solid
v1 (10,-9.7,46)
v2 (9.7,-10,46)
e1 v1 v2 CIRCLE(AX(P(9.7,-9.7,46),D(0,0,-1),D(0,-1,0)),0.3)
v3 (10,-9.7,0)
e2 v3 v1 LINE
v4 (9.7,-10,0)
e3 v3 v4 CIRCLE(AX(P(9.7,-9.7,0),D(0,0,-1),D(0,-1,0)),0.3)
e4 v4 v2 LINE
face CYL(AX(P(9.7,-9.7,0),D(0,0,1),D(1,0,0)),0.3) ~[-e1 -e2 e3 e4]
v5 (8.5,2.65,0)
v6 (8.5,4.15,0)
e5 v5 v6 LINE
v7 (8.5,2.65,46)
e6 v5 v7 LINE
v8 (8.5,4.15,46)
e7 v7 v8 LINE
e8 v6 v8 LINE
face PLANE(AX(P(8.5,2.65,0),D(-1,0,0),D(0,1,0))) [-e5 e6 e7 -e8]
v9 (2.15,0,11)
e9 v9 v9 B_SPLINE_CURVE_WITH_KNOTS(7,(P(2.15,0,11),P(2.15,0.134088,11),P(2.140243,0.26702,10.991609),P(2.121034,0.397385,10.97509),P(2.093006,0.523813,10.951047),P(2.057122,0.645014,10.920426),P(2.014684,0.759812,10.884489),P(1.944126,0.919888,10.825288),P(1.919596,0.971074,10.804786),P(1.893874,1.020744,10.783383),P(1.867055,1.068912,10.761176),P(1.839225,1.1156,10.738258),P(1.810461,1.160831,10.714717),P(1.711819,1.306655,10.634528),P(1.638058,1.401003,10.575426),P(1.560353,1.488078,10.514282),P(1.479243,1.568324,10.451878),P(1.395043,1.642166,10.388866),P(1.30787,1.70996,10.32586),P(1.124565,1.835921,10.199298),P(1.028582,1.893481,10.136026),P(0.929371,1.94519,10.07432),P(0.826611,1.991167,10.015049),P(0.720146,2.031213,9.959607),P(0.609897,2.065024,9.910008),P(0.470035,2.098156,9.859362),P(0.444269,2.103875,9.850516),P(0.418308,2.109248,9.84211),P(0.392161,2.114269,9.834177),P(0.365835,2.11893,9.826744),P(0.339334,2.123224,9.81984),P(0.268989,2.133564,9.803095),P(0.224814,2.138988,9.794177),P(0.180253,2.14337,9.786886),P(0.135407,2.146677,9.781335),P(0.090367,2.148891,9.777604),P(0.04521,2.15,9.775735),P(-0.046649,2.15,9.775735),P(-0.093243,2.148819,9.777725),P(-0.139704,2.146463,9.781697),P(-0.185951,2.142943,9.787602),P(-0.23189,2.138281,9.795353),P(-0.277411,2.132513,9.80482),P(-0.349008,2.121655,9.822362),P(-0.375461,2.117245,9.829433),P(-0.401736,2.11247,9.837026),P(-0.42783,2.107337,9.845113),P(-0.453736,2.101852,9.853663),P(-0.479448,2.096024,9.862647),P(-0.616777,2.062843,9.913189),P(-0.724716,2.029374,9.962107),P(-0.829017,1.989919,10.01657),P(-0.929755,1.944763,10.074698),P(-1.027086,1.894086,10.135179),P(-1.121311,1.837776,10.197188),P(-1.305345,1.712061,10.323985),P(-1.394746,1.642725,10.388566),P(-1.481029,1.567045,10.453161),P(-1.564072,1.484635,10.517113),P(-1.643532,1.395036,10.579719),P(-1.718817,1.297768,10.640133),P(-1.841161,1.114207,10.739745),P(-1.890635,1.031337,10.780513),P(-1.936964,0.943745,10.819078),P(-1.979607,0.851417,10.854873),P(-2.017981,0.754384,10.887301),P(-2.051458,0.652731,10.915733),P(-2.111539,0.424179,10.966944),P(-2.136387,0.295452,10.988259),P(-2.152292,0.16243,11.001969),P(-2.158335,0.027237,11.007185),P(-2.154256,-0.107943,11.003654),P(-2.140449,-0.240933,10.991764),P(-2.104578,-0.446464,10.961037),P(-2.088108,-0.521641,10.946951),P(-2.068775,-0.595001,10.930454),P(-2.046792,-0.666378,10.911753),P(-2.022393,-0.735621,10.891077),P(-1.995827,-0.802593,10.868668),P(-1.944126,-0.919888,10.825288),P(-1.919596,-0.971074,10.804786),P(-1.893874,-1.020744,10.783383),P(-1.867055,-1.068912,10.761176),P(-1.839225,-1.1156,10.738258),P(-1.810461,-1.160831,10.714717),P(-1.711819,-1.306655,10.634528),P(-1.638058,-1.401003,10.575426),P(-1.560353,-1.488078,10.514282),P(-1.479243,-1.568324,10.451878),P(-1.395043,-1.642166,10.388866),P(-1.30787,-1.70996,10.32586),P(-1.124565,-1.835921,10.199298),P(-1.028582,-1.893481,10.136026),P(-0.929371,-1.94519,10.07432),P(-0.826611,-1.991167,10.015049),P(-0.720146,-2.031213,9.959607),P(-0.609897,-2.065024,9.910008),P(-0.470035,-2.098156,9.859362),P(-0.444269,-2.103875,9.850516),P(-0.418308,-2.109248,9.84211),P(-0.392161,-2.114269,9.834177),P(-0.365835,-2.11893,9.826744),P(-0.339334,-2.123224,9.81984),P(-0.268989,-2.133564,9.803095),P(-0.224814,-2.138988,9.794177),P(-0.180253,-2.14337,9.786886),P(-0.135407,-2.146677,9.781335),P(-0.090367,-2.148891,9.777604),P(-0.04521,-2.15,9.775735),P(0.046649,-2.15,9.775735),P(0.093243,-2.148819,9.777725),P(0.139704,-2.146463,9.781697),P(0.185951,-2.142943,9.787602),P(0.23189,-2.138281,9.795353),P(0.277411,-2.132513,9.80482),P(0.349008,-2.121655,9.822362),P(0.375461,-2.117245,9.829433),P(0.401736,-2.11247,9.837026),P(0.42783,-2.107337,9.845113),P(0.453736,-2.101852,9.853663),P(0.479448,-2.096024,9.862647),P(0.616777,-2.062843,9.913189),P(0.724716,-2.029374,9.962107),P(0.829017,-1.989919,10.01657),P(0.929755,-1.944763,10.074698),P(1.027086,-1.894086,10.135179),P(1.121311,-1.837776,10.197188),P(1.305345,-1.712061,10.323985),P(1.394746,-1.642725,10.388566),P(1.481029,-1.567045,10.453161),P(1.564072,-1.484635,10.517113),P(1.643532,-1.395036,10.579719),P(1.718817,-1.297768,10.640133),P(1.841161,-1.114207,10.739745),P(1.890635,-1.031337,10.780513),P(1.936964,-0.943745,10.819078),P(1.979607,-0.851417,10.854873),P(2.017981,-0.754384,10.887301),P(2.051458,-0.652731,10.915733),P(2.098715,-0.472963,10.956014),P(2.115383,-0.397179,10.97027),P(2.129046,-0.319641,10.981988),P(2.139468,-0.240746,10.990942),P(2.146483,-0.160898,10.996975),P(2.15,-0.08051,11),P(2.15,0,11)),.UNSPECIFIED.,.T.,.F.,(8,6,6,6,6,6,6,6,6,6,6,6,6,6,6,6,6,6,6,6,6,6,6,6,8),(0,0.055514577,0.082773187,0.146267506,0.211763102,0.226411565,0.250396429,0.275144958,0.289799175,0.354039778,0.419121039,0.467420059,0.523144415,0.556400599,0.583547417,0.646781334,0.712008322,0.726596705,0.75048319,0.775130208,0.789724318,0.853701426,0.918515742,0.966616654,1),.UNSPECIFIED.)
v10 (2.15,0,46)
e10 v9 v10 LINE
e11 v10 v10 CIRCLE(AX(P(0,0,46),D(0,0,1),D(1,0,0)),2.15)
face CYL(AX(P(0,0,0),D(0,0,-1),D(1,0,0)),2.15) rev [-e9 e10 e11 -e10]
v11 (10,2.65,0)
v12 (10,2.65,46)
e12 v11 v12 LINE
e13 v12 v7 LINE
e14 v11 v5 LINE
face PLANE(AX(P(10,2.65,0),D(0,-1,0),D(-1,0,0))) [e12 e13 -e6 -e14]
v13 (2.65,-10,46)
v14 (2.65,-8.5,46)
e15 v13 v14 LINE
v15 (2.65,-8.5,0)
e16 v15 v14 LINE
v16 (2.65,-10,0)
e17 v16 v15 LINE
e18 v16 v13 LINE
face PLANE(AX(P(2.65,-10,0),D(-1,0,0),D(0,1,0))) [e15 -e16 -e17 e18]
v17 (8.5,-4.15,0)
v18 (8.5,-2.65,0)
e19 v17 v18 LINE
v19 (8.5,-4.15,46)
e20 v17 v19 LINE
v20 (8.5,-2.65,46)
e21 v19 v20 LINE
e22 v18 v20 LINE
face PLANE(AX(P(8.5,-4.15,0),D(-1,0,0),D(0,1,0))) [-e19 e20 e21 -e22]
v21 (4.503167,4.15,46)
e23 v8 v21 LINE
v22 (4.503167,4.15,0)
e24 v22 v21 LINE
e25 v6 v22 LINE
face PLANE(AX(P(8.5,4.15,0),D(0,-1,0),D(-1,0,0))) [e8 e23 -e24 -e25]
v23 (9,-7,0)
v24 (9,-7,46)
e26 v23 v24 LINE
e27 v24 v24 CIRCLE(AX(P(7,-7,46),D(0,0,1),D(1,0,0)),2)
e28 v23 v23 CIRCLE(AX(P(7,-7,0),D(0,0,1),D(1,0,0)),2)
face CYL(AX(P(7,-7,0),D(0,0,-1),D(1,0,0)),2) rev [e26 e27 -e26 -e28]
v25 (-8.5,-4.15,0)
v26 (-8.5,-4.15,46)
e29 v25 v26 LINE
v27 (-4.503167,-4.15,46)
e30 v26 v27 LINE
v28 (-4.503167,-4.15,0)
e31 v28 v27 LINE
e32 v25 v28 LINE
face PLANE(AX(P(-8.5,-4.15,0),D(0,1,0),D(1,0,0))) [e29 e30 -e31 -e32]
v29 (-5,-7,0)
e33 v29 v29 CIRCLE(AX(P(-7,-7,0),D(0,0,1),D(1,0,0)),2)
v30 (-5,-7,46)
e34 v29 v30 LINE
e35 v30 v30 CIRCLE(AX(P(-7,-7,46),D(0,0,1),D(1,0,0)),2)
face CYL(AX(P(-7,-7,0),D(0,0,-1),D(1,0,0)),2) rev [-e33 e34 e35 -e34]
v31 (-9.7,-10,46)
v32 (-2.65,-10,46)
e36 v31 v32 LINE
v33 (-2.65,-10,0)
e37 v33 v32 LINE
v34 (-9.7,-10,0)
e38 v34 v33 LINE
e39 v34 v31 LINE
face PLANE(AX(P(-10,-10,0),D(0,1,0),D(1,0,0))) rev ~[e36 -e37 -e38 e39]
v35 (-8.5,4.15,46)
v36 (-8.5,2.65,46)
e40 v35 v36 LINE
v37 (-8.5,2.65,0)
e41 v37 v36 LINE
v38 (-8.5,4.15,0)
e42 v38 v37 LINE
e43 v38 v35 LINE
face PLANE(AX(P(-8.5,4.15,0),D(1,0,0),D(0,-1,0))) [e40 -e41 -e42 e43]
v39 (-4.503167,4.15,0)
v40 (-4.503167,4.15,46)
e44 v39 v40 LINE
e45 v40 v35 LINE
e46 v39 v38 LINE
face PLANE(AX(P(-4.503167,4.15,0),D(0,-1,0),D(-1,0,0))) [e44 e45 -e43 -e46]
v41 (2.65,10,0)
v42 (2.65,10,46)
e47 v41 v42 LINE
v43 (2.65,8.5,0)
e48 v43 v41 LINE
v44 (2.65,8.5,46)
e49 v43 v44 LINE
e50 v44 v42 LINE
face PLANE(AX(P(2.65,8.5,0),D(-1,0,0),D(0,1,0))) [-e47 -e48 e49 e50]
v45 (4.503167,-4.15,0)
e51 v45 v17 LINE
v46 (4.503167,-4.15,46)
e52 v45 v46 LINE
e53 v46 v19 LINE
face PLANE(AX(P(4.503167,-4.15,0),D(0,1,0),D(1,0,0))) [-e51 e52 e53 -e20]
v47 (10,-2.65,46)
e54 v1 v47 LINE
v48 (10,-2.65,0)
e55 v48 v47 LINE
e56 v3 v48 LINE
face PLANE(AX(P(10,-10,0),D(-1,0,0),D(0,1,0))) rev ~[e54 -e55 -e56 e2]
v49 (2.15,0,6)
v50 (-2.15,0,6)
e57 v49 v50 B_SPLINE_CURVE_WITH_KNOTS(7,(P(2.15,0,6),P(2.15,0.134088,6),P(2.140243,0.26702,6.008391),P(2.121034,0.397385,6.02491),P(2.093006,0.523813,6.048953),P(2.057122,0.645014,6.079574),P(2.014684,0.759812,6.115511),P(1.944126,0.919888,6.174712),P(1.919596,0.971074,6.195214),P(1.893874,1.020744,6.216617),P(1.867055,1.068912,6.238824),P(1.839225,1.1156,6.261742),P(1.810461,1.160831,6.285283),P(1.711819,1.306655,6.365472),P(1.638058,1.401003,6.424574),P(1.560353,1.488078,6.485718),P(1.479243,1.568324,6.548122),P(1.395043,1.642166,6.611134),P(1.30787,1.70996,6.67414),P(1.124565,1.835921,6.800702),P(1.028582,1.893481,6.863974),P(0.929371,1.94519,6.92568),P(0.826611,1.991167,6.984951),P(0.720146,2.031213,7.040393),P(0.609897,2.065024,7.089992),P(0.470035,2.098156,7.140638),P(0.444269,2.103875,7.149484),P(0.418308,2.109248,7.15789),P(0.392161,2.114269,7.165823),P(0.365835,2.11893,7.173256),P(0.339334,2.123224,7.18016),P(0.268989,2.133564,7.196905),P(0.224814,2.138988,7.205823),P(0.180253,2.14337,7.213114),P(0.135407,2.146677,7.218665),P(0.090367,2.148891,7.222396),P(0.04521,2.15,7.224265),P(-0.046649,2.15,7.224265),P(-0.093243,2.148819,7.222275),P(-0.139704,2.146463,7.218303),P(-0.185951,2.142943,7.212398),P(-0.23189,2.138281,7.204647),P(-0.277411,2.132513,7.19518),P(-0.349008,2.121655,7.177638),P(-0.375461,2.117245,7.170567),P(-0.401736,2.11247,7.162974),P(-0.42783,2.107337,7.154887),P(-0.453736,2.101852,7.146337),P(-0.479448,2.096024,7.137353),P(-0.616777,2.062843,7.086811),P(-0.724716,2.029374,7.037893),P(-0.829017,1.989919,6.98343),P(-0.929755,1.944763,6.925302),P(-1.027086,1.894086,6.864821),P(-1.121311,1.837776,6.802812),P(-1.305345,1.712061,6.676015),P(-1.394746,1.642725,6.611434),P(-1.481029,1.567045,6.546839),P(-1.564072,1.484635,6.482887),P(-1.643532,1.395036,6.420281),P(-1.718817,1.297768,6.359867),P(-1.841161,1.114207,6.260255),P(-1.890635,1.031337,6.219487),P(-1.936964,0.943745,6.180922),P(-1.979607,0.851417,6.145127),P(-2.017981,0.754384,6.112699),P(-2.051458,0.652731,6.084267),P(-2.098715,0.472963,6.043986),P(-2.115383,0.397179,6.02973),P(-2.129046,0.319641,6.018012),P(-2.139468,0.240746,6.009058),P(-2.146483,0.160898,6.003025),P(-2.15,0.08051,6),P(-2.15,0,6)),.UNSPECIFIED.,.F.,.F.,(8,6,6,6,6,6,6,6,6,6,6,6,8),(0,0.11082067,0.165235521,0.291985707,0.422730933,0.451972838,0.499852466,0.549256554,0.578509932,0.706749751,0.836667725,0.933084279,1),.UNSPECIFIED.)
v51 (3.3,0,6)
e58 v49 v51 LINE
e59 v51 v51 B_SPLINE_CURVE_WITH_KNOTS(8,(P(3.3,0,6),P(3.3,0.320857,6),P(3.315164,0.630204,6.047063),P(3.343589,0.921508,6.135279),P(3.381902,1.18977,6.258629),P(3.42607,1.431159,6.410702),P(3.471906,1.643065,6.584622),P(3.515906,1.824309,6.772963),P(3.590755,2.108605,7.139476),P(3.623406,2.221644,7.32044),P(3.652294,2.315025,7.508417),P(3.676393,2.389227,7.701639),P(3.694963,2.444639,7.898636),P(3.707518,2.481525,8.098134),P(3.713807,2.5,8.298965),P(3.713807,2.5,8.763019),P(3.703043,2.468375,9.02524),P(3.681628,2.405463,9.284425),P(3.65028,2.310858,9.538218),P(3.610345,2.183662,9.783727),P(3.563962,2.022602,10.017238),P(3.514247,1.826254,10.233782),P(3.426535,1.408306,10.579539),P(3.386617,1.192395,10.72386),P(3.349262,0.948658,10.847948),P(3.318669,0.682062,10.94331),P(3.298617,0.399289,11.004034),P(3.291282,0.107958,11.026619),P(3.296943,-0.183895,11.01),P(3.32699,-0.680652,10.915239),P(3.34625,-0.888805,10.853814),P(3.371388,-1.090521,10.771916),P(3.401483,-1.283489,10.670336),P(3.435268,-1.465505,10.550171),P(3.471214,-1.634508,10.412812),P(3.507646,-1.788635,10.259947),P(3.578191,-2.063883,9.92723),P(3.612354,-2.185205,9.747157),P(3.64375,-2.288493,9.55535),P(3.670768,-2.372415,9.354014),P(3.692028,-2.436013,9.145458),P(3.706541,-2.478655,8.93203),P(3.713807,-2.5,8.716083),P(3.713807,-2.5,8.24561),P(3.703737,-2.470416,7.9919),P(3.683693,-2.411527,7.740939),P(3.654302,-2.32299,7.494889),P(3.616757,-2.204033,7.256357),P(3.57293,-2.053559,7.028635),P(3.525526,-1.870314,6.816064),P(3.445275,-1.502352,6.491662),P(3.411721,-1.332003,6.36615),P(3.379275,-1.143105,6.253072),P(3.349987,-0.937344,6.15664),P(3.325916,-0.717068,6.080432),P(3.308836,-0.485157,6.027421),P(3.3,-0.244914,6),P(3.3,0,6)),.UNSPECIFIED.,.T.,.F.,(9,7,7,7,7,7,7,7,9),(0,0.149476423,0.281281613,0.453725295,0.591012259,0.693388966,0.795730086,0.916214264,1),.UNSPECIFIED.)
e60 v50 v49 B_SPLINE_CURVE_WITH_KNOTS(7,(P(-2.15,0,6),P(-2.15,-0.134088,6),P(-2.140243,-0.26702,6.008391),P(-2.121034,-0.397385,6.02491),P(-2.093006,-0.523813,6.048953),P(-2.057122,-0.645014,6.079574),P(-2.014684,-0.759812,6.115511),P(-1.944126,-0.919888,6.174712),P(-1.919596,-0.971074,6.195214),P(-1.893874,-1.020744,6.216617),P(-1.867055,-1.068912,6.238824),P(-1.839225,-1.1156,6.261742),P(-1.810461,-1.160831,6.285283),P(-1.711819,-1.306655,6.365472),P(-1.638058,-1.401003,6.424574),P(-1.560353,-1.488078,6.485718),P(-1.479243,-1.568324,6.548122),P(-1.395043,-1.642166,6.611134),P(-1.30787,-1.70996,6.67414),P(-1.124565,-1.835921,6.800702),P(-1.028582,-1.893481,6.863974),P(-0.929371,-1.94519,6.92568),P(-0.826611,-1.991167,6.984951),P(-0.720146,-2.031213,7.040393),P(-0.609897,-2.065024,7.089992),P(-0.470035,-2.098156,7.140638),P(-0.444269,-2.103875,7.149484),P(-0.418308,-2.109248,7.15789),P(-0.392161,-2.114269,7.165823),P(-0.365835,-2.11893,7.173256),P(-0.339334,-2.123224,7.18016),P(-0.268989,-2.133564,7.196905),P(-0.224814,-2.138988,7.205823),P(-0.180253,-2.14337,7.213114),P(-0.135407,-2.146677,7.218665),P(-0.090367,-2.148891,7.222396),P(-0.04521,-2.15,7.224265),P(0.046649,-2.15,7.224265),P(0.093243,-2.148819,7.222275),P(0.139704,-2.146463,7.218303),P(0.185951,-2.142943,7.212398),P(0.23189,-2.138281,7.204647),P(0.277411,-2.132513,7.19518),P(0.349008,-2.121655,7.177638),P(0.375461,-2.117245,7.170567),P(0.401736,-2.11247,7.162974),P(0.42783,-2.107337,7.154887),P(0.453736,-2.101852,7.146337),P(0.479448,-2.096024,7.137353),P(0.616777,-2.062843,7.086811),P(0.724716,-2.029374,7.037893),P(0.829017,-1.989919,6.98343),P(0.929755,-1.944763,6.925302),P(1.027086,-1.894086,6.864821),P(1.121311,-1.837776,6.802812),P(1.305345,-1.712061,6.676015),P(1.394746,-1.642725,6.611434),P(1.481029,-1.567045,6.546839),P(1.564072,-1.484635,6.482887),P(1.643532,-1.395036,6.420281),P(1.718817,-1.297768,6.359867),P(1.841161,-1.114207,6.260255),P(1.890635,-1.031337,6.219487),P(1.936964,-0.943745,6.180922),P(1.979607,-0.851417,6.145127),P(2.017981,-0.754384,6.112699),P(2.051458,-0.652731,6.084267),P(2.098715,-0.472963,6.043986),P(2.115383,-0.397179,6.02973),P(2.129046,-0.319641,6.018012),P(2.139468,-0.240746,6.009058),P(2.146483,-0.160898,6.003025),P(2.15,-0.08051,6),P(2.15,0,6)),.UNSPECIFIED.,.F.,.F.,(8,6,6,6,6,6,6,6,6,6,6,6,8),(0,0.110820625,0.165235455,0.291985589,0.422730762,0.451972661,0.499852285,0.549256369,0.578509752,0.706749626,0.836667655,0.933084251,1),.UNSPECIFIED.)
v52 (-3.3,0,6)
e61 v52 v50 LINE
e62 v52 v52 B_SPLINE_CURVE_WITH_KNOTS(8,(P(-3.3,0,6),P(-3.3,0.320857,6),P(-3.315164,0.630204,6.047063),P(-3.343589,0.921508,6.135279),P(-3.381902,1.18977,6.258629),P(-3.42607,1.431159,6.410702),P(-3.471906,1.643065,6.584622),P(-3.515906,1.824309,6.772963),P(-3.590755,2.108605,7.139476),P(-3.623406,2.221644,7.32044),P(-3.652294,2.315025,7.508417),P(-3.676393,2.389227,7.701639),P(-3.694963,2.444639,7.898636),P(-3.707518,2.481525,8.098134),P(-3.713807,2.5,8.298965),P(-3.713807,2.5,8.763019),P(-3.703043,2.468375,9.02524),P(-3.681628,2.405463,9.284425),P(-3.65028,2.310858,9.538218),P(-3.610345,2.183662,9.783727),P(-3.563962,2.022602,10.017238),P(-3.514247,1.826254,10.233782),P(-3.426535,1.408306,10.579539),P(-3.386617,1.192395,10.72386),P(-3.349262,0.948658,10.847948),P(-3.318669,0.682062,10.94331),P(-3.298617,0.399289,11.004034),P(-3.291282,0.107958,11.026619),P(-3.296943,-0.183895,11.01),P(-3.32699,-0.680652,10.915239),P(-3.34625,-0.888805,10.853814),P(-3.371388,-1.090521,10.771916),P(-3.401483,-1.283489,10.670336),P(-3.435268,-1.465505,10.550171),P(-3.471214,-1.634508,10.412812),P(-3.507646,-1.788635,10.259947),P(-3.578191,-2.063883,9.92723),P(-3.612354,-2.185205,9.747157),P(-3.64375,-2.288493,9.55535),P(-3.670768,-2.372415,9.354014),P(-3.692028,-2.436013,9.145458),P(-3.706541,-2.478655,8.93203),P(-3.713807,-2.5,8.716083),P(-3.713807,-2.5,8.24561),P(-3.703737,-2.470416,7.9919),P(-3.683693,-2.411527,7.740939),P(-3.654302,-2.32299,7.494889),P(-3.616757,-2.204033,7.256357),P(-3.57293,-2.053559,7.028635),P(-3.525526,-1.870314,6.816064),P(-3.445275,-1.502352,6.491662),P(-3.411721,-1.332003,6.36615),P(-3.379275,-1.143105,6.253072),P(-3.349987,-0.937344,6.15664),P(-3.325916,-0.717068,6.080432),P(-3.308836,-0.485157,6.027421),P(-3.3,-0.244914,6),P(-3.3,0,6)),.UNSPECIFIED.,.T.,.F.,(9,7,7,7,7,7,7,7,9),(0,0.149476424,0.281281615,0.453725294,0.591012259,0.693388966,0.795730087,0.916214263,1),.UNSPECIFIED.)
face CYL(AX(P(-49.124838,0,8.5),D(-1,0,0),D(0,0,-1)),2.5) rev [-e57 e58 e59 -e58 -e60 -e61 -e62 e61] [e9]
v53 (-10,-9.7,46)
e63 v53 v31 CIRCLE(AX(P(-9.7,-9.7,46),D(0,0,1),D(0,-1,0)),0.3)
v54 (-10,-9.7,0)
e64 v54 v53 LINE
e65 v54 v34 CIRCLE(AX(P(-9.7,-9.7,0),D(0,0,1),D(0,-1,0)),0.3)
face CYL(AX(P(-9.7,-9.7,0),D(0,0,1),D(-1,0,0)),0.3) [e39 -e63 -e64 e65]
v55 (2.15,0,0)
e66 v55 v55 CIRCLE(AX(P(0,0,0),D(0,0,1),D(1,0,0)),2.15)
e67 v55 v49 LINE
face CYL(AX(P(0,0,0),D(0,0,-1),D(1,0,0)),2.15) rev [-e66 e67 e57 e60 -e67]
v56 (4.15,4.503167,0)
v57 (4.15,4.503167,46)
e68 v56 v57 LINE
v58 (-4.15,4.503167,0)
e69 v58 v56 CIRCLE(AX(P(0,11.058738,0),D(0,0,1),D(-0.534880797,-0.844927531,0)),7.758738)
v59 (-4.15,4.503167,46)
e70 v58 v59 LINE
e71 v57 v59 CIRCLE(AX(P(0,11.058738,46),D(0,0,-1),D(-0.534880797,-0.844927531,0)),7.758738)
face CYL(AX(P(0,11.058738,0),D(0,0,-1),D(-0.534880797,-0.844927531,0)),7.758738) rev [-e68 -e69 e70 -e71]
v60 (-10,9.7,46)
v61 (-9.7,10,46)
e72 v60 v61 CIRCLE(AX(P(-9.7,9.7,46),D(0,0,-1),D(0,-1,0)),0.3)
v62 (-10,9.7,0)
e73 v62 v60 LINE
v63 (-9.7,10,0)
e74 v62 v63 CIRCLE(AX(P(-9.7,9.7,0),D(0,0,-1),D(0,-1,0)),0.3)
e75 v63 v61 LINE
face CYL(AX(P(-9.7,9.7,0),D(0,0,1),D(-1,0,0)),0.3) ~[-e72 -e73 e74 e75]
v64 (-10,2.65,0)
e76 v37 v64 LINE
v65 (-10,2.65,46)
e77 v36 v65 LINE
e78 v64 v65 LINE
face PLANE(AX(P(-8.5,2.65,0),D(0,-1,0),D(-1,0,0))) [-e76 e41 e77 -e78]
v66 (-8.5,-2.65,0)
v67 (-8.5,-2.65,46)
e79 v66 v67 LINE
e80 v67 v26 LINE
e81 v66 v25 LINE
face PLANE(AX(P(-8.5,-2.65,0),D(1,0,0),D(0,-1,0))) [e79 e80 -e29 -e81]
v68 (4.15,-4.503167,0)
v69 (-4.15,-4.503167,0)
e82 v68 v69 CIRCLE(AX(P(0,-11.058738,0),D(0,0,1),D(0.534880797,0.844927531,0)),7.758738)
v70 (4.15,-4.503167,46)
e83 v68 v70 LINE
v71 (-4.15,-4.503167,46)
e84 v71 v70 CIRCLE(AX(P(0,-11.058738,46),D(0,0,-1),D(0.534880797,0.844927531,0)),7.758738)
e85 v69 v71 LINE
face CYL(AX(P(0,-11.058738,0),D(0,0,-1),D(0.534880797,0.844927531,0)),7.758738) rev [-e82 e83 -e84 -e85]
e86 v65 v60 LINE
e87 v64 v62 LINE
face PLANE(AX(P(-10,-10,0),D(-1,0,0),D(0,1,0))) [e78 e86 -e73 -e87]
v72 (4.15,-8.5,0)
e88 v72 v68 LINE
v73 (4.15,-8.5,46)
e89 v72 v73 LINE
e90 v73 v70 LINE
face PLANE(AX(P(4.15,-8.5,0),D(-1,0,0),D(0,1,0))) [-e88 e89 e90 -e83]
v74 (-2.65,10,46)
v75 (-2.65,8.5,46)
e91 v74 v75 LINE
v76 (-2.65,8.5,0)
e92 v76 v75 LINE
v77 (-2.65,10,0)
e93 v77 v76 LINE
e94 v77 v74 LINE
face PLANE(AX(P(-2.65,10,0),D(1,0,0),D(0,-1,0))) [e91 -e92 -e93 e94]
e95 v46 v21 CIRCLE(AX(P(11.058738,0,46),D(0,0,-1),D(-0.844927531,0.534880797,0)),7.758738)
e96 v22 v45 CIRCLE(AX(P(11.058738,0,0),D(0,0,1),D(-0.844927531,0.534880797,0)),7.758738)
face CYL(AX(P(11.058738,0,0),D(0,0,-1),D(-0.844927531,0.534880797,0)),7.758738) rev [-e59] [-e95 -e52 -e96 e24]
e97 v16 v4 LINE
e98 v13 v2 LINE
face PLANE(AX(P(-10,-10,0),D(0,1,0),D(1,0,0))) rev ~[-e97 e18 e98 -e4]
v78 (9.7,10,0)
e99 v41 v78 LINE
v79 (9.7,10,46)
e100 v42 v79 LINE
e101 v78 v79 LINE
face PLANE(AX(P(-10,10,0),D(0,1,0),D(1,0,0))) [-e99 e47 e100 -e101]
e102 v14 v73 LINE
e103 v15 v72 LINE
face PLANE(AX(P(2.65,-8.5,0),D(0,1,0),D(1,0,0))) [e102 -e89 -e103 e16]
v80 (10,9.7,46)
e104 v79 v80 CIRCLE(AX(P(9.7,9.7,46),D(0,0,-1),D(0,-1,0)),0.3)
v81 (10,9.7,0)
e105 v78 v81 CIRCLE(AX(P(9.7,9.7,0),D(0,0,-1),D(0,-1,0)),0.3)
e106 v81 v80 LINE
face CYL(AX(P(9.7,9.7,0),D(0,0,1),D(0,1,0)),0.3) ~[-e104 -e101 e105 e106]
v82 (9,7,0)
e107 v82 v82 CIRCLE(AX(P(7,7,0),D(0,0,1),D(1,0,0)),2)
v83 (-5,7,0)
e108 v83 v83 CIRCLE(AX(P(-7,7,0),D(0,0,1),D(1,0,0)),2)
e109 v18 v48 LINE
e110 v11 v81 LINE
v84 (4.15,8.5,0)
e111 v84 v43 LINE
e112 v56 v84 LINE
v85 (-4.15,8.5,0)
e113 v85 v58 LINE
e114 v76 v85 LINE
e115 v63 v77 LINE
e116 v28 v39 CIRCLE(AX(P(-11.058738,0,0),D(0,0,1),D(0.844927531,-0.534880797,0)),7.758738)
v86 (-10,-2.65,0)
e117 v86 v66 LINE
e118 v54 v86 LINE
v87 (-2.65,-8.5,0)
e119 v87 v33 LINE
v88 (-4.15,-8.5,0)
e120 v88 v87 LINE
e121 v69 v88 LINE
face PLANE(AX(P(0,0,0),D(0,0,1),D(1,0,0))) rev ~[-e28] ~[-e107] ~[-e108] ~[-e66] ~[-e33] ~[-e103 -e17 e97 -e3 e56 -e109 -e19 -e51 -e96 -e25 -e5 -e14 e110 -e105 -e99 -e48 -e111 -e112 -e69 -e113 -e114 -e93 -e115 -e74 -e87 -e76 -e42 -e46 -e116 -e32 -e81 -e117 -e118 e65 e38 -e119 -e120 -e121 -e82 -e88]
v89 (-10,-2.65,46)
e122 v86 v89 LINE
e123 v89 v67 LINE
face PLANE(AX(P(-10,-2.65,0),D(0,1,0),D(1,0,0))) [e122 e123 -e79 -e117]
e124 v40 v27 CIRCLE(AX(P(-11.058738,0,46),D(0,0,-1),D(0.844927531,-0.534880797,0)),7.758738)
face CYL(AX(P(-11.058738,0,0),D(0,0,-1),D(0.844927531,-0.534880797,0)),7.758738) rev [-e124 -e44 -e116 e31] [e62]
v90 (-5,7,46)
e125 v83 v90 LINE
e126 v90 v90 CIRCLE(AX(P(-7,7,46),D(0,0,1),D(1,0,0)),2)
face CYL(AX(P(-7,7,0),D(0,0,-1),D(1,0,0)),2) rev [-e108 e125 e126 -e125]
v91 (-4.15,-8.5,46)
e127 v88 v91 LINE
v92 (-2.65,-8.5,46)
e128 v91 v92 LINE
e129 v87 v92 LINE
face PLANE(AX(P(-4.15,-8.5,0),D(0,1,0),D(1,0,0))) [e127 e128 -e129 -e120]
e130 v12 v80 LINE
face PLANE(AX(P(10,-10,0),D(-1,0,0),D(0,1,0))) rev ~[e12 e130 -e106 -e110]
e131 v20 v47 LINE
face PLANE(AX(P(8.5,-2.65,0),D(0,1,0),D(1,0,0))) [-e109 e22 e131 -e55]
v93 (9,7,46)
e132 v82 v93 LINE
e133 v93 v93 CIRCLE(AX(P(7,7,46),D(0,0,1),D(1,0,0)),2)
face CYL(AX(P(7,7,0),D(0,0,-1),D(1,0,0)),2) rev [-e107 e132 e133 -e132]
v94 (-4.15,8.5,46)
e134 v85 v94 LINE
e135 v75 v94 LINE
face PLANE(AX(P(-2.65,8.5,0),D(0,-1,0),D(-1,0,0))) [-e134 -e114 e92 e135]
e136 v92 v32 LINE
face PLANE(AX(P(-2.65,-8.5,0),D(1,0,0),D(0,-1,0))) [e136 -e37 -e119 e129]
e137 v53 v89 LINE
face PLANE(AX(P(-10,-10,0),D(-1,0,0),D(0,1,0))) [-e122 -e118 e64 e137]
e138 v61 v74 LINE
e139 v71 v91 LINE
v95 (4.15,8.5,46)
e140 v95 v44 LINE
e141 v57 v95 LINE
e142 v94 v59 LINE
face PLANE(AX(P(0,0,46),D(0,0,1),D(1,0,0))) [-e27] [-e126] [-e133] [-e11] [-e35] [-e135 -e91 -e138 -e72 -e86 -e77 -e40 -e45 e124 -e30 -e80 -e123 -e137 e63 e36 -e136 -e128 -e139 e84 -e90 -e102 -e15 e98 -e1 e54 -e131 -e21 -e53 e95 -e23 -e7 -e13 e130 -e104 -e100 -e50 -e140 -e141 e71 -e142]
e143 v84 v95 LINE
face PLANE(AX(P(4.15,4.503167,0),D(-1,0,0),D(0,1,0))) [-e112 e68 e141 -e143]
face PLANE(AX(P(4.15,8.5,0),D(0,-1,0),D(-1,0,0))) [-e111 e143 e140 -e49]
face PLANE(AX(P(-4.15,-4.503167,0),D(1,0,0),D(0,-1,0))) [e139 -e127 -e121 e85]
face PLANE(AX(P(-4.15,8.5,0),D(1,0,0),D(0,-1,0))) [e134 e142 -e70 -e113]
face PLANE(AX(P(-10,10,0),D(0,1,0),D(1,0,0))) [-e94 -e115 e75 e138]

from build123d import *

# Parameters (mm, degrees)
SKETCH_1_W               = 20
SKETCH_1_H               = 20
SKETCH_1_R               = 2
SKETCH_1_R_2             = 2.15
EXTRUDE_1_DEPTH          = 46
CUT_EXTRUDE_1_REACH      = 50.125
PATTERN_CIRCULAR_1_COUNT = 4
FILLET_1_R               = 0.3
CUT_EXTRUDE_2_DEPTH      = 49.124837662
CUT_EXTRUDE_2_DEPTH_BACK = 49.124837662
SKETCH_2_R               = 2.5


with BuildPart() as part:
    # 스케치1 → 보스-돌출1 (new body)
    with BuildSketch(Plane.XY):
        Rectangle(SKETCH_1_W, SKETCH_1_H)
        with Locations((-7, -7)):
            Circle(SKETCH_1_R, mode=Mode.SUBTRACT)
        with Locations((7, -7)):
            Circle(SKETCH_1_R, mode=Mode.SUBTRACT)
        with Locations((-7, 7)):
            Circle(SKETCH_1_R, mode=Mode.SUBTRACT)
        Circle(SKETCH_1_R_2, mode=Mode.SUBTRACT)
        with Locations((7, 7)):
            Circle(SKETCH_1_R, mode=Mode.SUBTRACT)
    extrude(amount=EXTRUDE_1_DEPTH)

    # 스케치1<3> → 컷-돌출1 (cut, up to next)
    with BuildSketch(Plane.XY, mode=Mode.PRIVATE) as cut_extrude_1_sk1:
        with BuildLine():
            Line((-8.5, 2.65), (-10, 2.65))
            Line((-10, 2.65), (-10, -2.65))
            Line((-10, -2.65), (-8.5, -2.65))
            Line((-8.5, -2.65), (-8.5, -4.15))
            Line((-8.5, -4.15), (-4.503166667, -4.15))
            ThreePointArc((-4.503166667, -4.15), (-3.3, 0), (-4.503166667, 4.15))
            Line((-4.503166667, 4.15), (-8.5, 4.15))
            Line((-8.5, 4.15), (-8.5, 2.65))
        make_face()
    cut_extrude_1_tool1 = extrude(cut_extrude_1_sk1.sketch, amount=CUT_EXTRUDE_1_REACH, mode=Mode.PRIVATE) & part.part
    cut_extrude_1 = cut_extrude_1_tool1.solids().sort_by_distance((-6.606913, 0, 0))[0]
    add(cut_extrude_1, mode=Mode.SUBTRACT)

    # 원형 패턴1: 컷-돌출1 ×4 about axis
    pattern_circular_1_axis = Axis((0, 0, 46), (0, 0, -1))
    for i in range(1, PATTERN_CIRCULAR_1_COUNT):
        add(cut_extrude_1.rotate(pattern_circular_1_axis, i * 360 / PATTERN_CIRCULAR_1_COUNT), mode=Mode.SUBTRACT)

    # 필렛1
    fillet_1_edges = [part.edges().sort_by_distance(p)[0] for p in [
        (10, -10, 23),
        (-10, -10, 23),
        (-10, 10, 23),
        (10, 10, 23),
    ]]
    fillet(fillet_1_edges, radius=FILLET_1_R)

    # 스케치2 → 컷-돌출2 (cut, two sides: drawn at the far end of the back side and taken through both)
    with BuildSketch(Plane(origin=(0, 0, 0), x_dir=(0, 0, -1), z_dir=(1, 0, 0)).offset(-CUT_EXTRUDE_2_DEPTH_BACK)):
        with Locations((-8.5, 0)):
            Circle(SKETCH_2_R)
    extrude(amount=CUT_EXTRUDE_2_DEPTH + CUT_EXTRUDE_2_DEPTH_BACK, mode=Mode.SUBTRACT)


solid = part.part
